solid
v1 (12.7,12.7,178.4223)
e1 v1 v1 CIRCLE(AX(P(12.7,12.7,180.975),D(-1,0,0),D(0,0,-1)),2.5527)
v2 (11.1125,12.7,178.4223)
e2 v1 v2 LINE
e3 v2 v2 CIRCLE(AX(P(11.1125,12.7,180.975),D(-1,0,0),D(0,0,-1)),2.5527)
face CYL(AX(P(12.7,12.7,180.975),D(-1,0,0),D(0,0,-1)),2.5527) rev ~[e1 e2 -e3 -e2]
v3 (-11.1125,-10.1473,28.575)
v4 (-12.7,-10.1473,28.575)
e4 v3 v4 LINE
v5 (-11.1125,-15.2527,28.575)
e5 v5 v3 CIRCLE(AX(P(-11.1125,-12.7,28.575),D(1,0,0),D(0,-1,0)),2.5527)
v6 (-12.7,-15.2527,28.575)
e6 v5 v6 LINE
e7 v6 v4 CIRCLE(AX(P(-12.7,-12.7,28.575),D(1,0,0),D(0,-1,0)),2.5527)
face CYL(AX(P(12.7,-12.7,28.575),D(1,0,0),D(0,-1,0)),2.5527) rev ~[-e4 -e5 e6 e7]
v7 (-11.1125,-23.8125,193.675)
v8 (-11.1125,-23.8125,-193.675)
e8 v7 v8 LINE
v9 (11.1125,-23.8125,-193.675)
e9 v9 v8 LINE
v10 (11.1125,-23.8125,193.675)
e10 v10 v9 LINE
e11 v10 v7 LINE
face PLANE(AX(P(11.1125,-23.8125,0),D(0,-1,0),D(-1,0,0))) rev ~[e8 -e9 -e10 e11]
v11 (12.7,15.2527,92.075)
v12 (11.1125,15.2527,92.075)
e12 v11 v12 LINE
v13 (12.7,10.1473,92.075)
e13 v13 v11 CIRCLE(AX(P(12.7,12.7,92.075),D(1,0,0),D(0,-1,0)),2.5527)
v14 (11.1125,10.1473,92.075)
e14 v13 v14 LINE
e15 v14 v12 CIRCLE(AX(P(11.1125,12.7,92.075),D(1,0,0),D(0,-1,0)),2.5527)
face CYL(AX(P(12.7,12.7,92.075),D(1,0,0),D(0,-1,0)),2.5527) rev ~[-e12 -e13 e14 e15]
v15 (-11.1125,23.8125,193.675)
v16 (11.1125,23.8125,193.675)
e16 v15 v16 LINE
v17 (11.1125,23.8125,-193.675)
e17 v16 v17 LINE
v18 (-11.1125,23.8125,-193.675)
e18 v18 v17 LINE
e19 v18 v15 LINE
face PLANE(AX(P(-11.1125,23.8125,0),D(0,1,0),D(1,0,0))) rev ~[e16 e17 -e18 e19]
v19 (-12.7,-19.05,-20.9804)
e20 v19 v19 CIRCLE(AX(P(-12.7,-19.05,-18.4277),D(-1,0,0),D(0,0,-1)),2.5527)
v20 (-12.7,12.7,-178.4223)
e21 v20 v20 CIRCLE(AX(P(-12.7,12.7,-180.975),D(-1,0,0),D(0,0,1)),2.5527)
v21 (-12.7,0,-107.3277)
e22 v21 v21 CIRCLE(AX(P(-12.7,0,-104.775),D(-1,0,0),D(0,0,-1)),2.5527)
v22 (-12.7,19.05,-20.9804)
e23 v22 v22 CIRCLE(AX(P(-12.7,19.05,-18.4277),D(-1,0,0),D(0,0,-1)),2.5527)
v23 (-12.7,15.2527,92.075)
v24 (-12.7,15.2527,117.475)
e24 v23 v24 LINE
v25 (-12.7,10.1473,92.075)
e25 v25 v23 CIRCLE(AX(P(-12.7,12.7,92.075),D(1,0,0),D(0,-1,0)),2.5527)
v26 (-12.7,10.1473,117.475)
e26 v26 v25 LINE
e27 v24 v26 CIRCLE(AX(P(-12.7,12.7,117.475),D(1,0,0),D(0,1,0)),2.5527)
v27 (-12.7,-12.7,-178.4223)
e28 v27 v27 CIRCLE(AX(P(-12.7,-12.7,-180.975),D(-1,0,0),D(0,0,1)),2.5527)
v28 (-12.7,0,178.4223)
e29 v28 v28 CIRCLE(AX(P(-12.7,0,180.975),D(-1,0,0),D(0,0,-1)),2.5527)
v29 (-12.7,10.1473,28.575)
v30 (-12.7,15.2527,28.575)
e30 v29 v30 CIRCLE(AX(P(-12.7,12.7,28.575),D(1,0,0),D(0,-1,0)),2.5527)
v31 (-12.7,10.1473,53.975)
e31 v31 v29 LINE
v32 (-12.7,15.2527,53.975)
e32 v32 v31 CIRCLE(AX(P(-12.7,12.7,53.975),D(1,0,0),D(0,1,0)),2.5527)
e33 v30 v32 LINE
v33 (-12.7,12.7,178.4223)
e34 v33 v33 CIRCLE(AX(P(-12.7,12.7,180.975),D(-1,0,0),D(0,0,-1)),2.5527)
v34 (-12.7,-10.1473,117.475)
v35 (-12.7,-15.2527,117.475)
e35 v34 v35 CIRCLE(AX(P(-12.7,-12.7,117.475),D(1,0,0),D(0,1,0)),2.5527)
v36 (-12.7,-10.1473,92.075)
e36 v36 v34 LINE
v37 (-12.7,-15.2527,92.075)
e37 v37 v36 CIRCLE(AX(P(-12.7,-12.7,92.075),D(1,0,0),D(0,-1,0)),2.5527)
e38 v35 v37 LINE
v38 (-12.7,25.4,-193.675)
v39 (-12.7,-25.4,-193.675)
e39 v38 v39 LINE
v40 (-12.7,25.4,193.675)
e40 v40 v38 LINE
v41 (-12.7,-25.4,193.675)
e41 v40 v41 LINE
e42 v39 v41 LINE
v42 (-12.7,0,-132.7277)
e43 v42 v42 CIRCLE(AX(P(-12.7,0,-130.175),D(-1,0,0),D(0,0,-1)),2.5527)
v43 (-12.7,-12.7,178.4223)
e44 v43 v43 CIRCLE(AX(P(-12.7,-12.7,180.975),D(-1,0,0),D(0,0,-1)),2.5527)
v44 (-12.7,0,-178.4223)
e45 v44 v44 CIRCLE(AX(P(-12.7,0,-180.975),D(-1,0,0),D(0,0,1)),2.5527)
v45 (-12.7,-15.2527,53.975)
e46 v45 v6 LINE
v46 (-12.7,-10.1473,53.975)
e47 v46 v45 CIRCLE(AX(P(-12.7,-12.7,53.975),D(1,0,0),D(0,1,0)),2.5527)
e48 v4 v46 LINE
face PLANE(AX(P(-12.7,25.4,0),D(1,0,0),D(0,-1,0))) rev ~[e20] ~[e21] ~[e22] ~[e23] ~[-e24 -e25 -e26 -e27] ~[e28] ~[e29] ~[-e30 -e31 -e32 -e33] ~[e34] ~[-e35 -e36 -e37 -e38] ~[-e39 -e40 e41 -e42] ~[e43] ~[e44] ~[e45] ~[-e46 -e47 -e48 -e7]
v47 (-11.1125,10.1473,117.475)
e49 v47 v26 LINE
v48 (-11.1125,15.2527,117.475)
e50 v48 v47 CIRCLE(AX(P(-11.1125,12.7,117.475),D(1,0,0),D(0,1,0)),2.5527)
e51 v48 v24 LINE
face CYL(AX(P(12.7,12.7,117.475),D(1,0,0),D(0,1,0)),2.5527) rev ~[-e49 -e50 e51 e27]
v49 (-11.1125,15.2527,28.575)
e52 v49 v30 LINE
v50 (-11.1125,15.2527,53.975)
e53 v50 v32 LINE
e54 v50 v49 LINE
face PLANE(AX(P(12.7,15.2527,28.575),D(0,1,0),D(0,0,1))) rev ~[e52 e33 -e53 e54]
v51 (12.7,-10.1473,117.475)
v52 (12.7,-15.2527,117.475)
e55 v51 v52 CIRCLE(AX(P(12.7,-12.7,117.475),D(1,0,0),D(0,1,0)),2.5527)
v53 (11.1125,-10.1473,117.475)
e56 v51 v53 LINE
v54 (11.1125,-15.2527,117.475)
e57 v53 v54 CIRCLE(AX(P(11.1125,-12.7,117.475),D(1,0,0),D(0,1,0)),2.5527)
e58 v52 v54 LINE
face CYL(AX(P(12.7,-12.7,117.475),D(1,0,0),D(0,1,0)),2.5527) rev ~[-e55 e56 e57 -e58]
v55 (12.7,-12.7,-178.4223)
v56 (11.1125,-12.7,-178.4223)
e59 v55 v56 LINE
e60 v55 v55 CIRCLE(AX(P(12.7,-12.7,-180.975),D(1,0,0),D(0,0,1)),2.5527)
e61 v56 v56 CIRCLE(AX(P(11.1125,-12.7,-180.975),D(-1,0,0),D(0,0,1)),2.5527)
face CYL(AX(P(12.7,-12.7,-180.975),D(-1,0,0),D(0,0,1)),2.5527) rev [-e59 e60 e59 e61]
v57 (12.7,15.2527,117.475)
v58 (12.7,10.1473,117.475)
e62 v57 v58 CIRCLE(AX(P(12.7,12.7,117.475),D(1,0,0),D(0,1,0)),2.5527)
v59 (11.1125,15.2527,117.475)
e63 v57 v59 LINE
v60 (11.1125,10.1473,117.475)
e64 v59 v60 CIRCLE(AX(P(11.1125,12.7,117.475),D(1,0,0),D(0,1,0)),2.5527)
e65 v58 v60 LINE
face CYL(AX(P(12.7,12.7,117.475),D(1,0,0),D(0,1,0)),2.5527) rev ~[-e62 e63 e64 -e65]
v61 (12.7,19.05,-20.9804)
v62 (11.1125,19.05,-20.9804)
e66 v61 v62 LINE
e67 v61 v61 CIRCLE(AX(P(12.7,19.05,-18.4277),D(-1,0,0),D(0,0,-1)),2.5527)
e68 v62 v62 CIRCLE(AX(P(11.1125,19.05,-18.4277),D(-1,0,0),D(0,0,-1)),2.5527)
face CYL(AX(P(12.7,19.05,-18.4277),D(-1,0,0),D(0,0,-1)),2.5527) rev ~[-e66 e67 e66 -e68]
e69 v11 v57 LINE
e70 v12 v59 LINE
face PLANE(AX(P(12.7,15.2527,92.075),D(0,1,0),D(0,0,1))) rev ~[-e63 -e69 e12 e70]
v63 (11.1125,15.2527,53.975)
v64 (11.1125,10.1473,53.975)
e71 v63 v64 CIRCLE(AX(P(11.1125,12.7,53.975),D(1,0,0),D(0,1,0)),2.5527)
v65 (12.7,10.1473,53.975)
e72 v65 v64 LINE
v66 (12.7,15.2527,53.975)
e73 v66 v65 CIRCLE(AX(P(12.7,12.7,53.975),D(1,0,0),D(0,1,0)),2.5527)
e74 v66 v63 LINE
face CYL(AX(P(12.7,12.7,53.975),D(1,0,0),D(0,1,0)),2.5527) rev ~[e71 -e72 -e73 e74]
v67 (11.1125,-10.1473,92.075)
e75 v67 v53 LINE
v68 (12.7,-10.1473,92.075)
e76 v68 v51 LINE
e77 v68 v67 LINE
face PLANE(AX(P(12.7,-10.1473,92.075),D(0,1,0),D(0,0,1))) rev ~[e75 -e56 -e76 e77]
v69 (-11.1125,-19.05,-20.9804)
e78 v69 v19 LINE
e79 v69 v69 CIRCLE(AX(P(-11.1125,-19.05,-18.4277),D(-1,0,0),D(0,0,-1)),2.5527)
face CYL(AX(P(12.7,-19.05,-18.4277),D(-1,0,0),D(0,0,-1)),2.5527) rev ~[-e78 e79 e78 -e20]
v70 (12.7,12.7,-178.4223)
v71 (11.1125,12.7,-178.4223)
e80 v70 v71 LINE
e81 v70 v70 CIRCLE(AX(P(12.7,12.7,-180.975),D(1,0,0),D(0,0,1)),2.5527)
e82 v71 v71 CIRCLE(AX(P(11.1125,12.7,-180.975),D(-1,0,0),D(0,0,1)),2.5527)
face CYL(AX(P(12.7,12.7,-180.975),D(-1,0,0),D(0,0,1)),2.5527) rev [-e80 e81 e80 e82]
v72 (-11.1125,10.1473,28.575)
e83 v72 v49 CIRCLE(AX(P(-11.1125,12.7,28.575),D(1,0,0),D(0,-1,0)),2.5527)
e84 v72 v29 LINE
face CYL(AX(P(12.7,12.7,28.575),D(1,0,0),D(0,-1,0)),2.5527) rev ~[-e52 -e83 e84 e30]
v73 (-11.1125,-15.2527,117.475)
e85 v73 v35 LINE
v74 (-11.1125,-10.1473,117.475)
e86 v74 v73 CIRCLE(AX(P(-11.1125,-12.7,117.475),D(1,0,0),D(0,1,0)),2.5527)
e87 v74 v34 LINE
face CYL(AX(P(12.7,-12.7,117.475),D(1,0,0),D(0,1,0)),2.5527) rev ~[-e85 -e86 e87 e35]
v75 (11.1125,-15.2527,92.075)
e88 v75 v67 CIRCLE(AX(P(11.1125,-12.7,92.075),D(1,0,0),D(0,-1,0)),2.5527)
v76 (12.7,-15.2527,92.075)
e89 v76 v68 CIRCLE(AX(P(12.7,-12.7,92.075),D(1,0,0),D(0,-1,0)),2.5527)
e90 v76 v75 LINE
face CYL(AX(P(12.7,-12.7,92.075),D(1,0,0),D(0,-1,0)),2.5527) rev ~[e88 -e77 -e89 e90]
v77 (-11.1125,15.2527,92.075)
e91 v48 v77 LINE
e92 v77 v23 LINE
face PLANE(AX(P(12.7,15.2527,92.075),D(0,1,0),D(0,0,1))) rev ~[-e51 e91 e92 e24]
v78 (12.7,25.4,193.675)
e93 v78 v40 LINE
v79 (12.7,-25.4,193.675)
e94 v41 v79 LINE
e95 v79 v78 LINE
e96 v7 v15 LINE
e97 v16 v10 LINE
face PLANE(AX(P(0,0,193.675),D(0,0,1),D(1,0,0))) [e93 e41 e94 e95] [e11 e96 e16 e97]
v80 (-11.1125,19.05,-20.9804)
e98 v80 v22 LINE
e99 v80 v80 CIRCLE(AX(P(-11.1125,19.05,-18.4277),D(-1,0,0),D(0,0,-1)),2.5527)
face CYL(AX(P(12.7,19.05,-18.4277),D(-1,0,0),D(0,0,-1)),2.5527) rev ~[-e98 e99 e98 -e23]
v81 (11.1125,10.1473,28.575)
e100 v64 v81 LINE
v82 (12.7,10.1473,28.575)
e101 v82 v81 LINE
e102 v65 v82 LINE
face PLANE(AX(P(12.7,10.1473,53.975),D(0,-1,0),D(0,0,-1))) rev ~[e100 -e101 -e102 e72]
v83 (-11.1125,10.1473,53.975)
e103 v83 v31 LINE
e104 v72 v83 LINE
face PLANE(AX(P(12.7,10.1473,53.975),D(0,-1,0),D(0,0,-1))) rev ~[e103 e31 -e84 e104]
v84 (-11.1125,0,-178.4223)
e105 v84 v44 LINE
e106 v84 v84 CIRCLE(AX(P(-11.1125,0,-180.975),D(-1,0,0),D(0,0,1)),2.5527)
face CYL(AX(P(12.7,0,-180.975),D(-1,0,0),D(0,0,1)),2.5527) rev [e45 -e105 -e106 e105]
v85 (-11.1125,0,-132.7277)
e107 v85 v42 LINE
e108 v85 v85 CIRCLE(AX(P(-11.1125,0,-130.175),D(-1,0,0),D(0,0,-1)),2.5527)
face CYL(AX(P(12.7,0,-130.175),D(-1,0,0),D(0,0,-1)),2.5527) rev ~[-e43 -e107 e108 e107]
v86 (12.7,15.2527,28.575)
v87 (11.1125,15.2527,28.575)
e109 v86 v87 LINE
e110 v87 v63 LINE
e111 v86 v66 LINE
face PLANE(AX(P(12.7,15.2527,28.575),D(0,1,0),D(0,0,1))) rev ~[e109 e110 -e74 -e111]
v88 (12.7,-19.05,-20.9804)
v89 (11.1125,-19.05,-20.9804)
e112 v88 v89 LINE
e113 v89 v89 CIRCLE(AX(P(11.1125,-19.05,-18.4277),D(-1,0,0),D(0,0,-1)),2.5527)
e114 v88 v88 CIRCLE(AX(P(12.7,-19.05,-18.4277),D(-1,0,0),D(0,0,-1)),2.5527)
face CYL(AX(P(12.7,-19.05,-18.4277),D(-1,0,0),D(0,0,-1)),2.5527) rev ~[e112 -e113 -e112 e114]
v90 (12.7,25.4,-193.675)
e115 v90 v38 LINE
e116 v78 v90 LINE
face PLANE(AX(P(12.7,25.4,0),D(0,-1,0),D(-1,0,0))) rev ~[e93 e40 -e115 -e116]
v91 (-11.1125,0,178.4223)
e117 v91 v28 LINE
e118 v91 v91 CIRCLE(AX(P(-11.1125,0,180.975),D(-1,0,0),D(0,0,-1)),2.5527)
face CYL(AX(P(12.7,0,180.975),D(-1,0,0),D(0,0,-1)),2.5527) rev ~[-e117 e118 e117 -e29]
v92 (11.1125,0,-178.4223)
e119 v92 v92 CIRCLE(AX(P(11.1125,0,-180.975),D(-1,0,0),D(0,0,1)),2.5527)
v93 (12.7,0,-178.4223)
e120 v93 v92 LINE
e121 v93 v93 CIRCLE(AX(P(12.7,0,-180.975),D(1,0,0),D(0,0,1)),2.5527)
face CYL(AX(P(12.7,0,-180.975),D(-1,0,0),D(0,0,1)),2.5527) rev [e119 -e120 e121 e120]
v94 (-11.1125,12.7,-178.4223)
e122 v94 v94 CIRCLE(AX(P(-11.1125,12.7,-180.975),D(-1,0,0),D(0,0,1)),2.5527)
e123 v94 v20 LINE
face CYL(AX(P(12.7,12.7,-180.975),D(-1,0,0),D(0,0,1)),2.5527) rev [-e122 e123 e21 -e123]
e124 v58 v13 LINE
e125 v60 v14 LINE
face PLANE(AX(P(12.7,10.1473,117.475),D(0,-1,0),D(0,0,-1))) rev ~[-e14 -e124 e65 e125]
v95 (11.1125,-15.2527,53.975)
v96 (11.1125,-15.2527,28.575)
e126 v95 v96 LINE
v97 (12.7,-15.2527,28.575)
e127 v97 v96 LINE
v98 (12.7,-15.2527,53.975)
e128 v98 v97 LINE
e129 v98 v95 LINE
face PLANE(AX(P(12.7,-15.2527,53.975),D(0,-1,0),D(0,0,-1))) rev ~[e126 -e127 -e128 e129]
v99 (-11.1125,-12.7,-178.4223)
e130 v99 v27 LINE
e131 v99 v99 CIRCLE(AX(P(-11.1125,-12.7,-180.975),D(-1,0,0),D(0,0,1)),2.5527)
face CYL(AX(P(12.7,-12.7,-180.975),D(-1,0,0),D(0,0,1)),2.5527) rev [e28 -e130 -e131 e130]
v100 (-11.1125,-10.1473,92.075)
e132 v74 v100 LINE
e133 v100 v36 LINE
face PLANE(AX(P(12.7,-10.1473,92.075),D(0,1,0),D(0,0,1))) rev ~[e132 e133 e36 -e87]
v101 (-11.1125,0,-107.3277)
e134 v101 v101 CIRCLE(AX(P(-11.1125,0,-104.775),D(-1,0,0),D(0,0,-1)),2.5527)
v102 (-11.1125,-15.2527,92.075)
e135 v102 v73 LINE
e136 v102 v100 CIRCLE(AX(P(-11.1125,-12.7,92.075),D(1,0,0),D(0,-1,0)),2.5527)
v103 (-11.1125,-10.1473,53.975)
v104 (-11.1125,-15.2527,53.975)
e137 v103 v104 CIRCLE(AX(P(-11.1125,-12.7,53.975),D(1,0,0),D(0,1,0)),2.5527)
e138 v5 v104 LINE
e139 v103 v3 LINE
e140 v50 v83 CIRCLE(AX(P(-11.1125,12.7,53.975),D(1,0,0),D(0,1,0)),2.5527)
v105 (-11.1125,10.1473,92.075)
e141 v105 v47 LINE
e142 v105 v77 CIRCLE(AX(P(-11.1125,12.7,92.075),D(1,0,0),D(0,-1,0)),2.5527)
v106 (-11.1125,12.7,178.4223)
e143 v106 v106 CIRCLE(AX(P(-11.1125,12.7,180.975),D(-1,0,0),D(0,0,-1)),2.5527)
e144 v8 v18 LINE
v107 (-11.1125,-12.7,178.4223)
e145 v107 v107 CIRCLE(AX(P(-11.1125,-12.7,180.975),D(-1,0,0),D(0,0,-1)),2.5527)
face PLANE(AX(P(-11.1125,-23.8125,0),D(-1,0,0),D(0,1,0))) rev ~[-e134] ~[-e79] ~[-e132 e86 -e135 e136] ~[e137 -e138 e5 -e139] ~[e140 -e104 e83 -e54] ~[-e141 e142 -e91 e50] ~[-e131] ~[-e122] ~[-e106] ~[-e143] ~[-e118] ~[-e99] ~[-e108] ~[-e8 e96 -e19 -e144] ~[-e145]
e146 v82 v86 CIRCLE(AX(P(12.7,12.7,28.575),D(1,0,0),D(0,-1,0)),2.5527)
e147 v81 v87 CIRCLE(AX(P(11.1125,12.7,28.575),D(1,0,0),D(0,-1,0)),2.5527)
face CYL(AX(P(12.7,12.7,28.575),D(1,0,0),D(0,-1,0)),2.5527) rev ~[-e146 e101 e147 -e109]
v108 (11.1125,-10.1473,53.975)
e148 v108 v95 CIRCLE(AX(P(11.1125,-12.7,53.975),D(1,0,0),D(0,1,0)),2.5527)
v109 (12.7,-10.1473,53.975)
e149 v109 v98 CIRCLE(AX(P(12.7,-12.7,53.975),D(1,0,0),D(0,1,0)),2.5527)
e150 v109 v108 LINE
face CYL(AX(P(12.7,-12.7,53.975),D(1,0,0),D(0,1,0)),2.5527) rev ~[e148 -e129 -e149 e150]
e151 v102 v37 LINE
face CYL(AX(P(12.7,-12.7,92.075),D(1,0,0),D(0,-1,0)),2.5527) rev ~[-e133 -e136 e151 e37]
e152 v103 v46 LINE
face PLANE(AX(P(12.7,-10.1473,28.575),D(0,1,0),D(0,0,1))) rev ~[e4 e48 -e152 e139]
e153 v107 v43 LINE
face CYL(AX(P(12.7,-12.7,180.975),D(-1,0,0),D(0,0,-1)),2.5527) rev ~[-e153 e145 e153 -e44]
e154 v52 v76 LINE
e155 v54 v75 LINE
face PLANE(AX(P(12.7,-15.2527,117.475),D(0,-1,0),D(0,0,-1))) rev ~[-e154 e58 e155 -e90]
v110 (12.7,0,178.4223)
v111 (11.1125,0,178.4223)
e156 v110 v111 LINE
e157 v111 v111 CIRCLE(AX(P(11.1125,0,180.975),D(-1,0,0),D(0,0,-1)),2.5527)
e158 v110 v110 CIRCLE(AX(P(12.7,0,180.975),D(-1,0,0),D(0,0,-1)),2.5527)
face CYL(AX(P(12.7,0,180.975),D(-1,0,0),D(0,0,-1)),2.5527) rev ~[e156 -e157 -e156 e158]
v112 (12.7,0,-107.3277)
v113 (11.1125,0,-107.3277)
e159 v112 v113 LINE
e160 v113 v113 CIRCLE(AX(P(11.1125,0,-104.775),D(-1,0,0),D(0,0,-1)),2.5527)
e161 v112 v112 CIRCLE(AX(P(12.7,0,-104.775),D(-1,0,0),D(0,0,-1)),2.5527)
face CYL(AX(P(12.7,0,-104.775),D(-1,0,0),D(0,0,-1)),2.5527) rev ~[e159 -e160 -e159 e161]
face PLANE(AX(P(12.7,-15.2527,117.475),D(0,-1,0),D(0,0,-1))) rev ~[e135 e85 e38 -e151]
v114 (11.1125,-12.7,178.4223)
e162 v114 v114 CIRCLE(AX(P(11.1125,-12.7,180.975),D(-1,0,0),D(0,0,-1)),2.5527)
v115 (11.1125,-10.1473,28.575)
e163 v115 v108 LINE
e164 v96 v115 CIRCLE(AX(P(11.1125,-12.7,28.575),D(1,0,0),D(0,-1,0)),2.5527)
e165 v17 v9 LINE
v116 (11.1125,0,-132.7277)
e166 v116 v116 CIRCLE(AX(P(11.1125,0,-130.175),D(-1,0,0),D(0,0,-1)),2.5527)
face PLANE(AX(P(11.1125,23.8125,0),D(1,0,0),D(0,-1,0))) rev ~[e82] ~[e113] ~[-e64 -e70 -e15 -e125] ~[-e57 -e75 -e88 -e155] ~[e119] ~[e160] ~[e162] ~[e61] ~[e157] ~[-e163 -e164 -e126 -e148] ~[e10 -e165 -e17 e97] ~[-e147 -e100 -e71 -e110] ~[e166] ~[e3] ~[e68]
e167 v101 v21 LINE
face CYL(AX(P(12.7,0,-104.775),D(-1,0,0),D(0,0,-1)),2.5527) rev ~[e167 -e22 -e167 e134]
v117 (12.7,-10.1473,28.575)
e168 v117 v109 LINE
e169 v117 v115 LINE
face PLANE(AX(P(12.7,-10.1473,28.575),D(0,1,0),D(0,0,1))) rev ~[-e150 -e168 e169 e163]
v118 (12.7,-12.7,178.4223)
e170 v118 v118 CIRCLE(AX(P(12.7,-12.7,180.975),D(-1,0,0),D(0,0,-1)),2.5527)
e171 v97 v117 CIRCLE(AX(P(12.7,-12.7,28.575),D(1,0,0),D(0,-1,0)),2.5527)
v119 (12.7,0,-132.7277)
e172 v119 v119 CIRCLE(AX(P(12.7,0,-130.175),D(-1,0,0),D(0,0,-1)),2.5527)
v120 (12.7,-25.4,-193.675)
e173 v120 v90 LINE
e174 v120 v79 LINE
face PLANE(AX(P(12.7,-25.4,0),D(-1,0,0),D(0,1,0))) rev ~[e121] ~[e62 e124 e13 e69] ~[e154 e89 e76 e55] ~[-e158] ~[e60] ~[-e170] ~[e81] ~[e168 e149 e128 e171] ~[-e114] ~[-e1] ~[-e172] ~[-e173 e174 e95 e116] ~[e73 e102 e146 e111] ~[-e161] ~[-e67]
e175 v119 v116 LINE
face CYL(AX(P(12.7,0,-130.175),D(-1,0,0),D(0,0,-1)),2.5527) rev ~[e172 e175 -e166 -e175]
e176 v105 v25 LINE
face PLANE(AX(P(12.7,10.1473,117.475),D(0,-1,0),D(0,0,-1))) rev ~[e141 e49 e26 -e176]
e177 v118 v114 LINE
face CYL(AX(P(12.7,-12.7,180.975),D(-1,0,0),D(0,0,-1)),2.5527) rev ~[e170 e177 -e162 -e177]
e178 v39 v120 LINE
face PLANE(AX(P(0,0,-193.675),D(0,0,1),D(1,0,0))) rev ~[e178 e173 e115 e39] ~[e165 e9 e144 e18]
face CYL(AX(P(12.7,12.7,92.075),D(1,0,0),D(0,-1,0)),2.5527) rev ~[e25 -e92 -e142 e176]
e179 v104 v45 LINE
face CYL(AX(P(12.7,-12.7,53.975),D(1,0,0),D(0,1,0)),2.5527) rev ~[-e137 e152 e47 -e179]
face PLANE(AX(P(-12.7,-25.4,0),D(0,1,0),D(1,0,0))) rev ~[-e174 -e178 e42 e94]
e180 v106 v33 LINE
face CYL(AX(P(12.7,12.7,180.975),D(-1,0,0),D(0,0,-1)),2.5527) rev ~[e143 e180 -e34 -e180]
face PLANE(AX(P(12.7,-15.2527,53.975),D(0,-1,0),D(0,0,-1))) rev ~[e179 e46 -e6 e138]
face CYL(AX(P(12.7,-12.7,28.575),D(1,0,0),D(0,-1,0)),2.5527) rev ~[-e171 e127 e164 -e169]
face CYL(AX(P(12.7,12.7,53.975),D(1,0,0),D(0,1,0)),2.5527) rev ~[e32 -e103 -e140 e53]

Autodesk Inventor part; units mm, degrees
ref_plane "YZ Plane" through (0, 0, 0) normal (1, 0, 0) x (0, 1, 0)
ref_plane "XZ Plane" through (0, 0, 0) normal (0, 1, 0) x (-1, 0, 0)
ref_plane "XY Plane" through (0, 0, 0) normal (0, 0, 1) x (1, 0, 0)
sketch "Sketch1" plane through (0, 0, 0) normal (0, 0, 1) x (1, 0, 0)
  line L0 (-12.7, -25.4) -> (12.7, -25.4)
  line L1 (12.7, -25.4) -> (12.7, 25.4)
  line L2 (12.7, 25.4) -> (-12.7, 25.4)
  line L3 (-12.7, 25.4) -> (-12.7, -25.4)
  line L4 (-12.7, -25.4) -> (12.7, 25.4) construction
  line L5 (12.7, -25.4) -> (-12.7, 25.4) construction
  line L6 (-11.1125, 23.8125) -> (11.1125, 23.8125)
  line L7 (11.1125, 23.8125) -> (11.1125, -23.8125)
  line L8 (11.1125, -23.8125) -> (-11.1125, -23.8125)
  line L9 (-11.1125, -23.8125) -> (-11.1125, 23.8125)
  point P0 (0, 0)
  dimension "width" = 25.4
  dimension "height" = 50.8
  dimension "thickness" = 1.5875
extrude "Extrusion1" add sketch "Sketch1" along normal mid plane 387.35
sketch "Sketch2" plane through (12.7, -25.4, 193.675) normal (1, 0, 0) x (0, 0, -1)
  line L0 (387.35, 50.8) -> (387.35, 0) construction
  line L1 (387.35, 0) -> (0, 0) construction
  line L2 (0, 0) -> (0, 50.8) construction
  line L3 (0, 50.8) -> (387.35, 50.8) construction
  line L4 (387.35, 0) -> (0, 0) construction
  line L5 (0, 0) -> (0, 50.8) construction
  line L6 (0, 50.8) -> (387.35, 50.8) construction
  line L7 (387.35, 50.8) -> (387.35, 0) projected
  point P0 (193.675, 25.4)
  point P1 (12.7, 38.1)
  point P2 (12.7, 25.4)
  point P3 (0, 25.4)
  point P4 (12.7, 12.7)
  dimension "d5" = 12.7
  dimension "d6" = 12.7
  dimension "d7" = 12.7
hole "Hole1" at (12.7, 12.7, 180.975) at (12.7, 0, 180.975) at (12.7, -12.7, 180.975) direction (-1, 0, 0) diameter 5.1054 end through all clearance for "Flat Head Machine Screw (82)" size "#10" standard "Ansi Unified Screw Threads"
mirror "Mirror1" about plane through (0, 0, 0) normal (0, 0, 1) of "Hole1"
sketch "Sketch3" plane through (12.7, -25.4, 193.675) normal (1, 0, 0) x (0, 0, -1)
  circle A0 centre (374.65, 12.7) radius 2.5527 construction
  circle A1 centre (374.65, 38.1) radius 2.5527 construction
  circle A2 centre (374.65, 25.4) radius 2.5527 construction
  circle A3 centre (12.7, 25.4) radius 2.5527 construction
  circle A4 centre (12.7, 38.1) radius 2.5527 construction
  circle A5 centre (12.7, 12.7) radius 2.5527 construction
  line L0 (387.35, 50.8) -> (387.35, 0) construction
  line L1 (387.35, 0) -> (0, 0) construction
  line L2 (0, 0) -> (0, 50.8) construction
  line L3 (0, 50.8) -> (387.35, 50.8) construction
  point P0 (193.675, 25.4)
  point P1 (323.85, 25.4)
  point P2 (298.45, 25.4)
  dimension "d15" = 50.8
  dimension "d16" = 25.4
hole "Hole2" at (12.7, 0, -130.175) at (12.7, 0, -104.775) direction (-1, 0, 0) diameter 5.1054 end through all clearance for "Flat Head Machine Screw (82)" size "#10" standard "Ansi Unified Screw Threads"
sketch "Sketch4" plane through (12.7, -25.4, 193.675) normal (1, 0, 0) x (0, 0, -1)
  line L0 (165.1, 38.1) -> (139.7, 38.1) construction
  line L1 (165.1, 40.6527) -> (139.7, 40.6527)
  line L2 (139.7, 35.5473) -> (165.1, 35.5473)
  arc A0 (165.1, 35.5473) -> (165.1, 40.6527) centre (165.1, 38.1) ccw
  arc A1 (139.7, 40.6527) -> (139.7, 35.5473) centre (139.7, 38.1) ccw
  line L3 (165.1, 12.7) -> (139.7, 12.7) construction
  line L4 (165.1, 15.2527) -> (139.7, 15.2527)
  line L5 (139.7, 10.1473) -> (165.1, 10.1473)
  arc A2 (165.1, 10.1473) -> (165.1, 15.2527) centre (165.1, 12.7) ccw
  arc A3 (139.7, 15.2527) -> (139.7, 10.1473) centre (139.7, 12.7) ccw
  line L6 (152.4, 38.1) -> (152.4, 12.7) construction
  line L7 (0, 0) -> (0, 50.8) construction
  line L8 (101.6, 38.1) -> (76.2, 38.1) construction
  line L9 (101.6, 40.6527) -> (76.2, 40.6527)
  line L10 (76.2, 35.5473) -> (101.6, 35.5473)
  arc A4 (101.6, 35.5473) -> (101.6, 40.6527) centre (101.6, 38.1) ccw
  arc A5 (76.2, 40.6527) -> (76.2, 35.5473) centre (76.2, 38.1) ccw
  line L11 (101.6, 12.7) -> (76.2, 12.7) construction
  line L12 (101.6, 15.2527) -> (76.2, 15.2527)
  line L13 (76.2, 10.1473) -> (101.6, 10.1473)
  arc A6 (101.6, 10.1473) -> (101.6, 15.2527) centre (101.6, 12.7) ccw
  arc A7 (76.2, 15.2527) -> (76.2, 10.1473) centre (76.2, 12.7) ccw
  line L14 (88.9, 38.1) -> (88.9, 12.7) construction
  point P0 (193.675, 25.4)
  point P1 (152.4, 25.4)
  point P2 (88.9, 25.4)
  dimension "d25" = 5.1054
  dimension "d26" = 25.4
  dimension "d27" = 25.4
  dimension "d28" = 152.4
  dimension "d29" = 5.1054
  dimension "d30" = 25.4
  dimension "d31" = 25.4
  dimension "d32" = 63.5
extrude "Extrusion2" cut sketch "Sketch4" against normal through all
sketch "Sketch5" plane through (12.7, -25.4, 193.675) normal (1, 0, 0) x (0, 0, -1)
  line L0 (212.1027, 44.45) -> (212.1027, 6.35) construction
  line L1 (387.35, 50.8) -> (387.35, 0) construction
  arc A0 (165.1, 35.5473) -> (165.1, 40.6527) centre (165.1, 38.1) ccw construction
  point P0 (193.675, 25.4)
  point P1 (212.1027, 25.4)
  point P2 (387.35, 25.4)
  point P3 (167.6527, 38.1)
  dimension "d35" = 38.1
  dimension "d36" = 44.45
hole "Hole3" at (12.7, 19.05, -18.4277) at (12.7, -19.05, -18.4277) direction (-1, 0, 0) diameter 5.1054 end through all clearance for "Flat Head Machine Screw (82)" size "#10" standard "Ansi Unified Screw Threads"
equation "\"d7\" = d6"
properties part number "CL7-001" material "Aluminum 6061"
